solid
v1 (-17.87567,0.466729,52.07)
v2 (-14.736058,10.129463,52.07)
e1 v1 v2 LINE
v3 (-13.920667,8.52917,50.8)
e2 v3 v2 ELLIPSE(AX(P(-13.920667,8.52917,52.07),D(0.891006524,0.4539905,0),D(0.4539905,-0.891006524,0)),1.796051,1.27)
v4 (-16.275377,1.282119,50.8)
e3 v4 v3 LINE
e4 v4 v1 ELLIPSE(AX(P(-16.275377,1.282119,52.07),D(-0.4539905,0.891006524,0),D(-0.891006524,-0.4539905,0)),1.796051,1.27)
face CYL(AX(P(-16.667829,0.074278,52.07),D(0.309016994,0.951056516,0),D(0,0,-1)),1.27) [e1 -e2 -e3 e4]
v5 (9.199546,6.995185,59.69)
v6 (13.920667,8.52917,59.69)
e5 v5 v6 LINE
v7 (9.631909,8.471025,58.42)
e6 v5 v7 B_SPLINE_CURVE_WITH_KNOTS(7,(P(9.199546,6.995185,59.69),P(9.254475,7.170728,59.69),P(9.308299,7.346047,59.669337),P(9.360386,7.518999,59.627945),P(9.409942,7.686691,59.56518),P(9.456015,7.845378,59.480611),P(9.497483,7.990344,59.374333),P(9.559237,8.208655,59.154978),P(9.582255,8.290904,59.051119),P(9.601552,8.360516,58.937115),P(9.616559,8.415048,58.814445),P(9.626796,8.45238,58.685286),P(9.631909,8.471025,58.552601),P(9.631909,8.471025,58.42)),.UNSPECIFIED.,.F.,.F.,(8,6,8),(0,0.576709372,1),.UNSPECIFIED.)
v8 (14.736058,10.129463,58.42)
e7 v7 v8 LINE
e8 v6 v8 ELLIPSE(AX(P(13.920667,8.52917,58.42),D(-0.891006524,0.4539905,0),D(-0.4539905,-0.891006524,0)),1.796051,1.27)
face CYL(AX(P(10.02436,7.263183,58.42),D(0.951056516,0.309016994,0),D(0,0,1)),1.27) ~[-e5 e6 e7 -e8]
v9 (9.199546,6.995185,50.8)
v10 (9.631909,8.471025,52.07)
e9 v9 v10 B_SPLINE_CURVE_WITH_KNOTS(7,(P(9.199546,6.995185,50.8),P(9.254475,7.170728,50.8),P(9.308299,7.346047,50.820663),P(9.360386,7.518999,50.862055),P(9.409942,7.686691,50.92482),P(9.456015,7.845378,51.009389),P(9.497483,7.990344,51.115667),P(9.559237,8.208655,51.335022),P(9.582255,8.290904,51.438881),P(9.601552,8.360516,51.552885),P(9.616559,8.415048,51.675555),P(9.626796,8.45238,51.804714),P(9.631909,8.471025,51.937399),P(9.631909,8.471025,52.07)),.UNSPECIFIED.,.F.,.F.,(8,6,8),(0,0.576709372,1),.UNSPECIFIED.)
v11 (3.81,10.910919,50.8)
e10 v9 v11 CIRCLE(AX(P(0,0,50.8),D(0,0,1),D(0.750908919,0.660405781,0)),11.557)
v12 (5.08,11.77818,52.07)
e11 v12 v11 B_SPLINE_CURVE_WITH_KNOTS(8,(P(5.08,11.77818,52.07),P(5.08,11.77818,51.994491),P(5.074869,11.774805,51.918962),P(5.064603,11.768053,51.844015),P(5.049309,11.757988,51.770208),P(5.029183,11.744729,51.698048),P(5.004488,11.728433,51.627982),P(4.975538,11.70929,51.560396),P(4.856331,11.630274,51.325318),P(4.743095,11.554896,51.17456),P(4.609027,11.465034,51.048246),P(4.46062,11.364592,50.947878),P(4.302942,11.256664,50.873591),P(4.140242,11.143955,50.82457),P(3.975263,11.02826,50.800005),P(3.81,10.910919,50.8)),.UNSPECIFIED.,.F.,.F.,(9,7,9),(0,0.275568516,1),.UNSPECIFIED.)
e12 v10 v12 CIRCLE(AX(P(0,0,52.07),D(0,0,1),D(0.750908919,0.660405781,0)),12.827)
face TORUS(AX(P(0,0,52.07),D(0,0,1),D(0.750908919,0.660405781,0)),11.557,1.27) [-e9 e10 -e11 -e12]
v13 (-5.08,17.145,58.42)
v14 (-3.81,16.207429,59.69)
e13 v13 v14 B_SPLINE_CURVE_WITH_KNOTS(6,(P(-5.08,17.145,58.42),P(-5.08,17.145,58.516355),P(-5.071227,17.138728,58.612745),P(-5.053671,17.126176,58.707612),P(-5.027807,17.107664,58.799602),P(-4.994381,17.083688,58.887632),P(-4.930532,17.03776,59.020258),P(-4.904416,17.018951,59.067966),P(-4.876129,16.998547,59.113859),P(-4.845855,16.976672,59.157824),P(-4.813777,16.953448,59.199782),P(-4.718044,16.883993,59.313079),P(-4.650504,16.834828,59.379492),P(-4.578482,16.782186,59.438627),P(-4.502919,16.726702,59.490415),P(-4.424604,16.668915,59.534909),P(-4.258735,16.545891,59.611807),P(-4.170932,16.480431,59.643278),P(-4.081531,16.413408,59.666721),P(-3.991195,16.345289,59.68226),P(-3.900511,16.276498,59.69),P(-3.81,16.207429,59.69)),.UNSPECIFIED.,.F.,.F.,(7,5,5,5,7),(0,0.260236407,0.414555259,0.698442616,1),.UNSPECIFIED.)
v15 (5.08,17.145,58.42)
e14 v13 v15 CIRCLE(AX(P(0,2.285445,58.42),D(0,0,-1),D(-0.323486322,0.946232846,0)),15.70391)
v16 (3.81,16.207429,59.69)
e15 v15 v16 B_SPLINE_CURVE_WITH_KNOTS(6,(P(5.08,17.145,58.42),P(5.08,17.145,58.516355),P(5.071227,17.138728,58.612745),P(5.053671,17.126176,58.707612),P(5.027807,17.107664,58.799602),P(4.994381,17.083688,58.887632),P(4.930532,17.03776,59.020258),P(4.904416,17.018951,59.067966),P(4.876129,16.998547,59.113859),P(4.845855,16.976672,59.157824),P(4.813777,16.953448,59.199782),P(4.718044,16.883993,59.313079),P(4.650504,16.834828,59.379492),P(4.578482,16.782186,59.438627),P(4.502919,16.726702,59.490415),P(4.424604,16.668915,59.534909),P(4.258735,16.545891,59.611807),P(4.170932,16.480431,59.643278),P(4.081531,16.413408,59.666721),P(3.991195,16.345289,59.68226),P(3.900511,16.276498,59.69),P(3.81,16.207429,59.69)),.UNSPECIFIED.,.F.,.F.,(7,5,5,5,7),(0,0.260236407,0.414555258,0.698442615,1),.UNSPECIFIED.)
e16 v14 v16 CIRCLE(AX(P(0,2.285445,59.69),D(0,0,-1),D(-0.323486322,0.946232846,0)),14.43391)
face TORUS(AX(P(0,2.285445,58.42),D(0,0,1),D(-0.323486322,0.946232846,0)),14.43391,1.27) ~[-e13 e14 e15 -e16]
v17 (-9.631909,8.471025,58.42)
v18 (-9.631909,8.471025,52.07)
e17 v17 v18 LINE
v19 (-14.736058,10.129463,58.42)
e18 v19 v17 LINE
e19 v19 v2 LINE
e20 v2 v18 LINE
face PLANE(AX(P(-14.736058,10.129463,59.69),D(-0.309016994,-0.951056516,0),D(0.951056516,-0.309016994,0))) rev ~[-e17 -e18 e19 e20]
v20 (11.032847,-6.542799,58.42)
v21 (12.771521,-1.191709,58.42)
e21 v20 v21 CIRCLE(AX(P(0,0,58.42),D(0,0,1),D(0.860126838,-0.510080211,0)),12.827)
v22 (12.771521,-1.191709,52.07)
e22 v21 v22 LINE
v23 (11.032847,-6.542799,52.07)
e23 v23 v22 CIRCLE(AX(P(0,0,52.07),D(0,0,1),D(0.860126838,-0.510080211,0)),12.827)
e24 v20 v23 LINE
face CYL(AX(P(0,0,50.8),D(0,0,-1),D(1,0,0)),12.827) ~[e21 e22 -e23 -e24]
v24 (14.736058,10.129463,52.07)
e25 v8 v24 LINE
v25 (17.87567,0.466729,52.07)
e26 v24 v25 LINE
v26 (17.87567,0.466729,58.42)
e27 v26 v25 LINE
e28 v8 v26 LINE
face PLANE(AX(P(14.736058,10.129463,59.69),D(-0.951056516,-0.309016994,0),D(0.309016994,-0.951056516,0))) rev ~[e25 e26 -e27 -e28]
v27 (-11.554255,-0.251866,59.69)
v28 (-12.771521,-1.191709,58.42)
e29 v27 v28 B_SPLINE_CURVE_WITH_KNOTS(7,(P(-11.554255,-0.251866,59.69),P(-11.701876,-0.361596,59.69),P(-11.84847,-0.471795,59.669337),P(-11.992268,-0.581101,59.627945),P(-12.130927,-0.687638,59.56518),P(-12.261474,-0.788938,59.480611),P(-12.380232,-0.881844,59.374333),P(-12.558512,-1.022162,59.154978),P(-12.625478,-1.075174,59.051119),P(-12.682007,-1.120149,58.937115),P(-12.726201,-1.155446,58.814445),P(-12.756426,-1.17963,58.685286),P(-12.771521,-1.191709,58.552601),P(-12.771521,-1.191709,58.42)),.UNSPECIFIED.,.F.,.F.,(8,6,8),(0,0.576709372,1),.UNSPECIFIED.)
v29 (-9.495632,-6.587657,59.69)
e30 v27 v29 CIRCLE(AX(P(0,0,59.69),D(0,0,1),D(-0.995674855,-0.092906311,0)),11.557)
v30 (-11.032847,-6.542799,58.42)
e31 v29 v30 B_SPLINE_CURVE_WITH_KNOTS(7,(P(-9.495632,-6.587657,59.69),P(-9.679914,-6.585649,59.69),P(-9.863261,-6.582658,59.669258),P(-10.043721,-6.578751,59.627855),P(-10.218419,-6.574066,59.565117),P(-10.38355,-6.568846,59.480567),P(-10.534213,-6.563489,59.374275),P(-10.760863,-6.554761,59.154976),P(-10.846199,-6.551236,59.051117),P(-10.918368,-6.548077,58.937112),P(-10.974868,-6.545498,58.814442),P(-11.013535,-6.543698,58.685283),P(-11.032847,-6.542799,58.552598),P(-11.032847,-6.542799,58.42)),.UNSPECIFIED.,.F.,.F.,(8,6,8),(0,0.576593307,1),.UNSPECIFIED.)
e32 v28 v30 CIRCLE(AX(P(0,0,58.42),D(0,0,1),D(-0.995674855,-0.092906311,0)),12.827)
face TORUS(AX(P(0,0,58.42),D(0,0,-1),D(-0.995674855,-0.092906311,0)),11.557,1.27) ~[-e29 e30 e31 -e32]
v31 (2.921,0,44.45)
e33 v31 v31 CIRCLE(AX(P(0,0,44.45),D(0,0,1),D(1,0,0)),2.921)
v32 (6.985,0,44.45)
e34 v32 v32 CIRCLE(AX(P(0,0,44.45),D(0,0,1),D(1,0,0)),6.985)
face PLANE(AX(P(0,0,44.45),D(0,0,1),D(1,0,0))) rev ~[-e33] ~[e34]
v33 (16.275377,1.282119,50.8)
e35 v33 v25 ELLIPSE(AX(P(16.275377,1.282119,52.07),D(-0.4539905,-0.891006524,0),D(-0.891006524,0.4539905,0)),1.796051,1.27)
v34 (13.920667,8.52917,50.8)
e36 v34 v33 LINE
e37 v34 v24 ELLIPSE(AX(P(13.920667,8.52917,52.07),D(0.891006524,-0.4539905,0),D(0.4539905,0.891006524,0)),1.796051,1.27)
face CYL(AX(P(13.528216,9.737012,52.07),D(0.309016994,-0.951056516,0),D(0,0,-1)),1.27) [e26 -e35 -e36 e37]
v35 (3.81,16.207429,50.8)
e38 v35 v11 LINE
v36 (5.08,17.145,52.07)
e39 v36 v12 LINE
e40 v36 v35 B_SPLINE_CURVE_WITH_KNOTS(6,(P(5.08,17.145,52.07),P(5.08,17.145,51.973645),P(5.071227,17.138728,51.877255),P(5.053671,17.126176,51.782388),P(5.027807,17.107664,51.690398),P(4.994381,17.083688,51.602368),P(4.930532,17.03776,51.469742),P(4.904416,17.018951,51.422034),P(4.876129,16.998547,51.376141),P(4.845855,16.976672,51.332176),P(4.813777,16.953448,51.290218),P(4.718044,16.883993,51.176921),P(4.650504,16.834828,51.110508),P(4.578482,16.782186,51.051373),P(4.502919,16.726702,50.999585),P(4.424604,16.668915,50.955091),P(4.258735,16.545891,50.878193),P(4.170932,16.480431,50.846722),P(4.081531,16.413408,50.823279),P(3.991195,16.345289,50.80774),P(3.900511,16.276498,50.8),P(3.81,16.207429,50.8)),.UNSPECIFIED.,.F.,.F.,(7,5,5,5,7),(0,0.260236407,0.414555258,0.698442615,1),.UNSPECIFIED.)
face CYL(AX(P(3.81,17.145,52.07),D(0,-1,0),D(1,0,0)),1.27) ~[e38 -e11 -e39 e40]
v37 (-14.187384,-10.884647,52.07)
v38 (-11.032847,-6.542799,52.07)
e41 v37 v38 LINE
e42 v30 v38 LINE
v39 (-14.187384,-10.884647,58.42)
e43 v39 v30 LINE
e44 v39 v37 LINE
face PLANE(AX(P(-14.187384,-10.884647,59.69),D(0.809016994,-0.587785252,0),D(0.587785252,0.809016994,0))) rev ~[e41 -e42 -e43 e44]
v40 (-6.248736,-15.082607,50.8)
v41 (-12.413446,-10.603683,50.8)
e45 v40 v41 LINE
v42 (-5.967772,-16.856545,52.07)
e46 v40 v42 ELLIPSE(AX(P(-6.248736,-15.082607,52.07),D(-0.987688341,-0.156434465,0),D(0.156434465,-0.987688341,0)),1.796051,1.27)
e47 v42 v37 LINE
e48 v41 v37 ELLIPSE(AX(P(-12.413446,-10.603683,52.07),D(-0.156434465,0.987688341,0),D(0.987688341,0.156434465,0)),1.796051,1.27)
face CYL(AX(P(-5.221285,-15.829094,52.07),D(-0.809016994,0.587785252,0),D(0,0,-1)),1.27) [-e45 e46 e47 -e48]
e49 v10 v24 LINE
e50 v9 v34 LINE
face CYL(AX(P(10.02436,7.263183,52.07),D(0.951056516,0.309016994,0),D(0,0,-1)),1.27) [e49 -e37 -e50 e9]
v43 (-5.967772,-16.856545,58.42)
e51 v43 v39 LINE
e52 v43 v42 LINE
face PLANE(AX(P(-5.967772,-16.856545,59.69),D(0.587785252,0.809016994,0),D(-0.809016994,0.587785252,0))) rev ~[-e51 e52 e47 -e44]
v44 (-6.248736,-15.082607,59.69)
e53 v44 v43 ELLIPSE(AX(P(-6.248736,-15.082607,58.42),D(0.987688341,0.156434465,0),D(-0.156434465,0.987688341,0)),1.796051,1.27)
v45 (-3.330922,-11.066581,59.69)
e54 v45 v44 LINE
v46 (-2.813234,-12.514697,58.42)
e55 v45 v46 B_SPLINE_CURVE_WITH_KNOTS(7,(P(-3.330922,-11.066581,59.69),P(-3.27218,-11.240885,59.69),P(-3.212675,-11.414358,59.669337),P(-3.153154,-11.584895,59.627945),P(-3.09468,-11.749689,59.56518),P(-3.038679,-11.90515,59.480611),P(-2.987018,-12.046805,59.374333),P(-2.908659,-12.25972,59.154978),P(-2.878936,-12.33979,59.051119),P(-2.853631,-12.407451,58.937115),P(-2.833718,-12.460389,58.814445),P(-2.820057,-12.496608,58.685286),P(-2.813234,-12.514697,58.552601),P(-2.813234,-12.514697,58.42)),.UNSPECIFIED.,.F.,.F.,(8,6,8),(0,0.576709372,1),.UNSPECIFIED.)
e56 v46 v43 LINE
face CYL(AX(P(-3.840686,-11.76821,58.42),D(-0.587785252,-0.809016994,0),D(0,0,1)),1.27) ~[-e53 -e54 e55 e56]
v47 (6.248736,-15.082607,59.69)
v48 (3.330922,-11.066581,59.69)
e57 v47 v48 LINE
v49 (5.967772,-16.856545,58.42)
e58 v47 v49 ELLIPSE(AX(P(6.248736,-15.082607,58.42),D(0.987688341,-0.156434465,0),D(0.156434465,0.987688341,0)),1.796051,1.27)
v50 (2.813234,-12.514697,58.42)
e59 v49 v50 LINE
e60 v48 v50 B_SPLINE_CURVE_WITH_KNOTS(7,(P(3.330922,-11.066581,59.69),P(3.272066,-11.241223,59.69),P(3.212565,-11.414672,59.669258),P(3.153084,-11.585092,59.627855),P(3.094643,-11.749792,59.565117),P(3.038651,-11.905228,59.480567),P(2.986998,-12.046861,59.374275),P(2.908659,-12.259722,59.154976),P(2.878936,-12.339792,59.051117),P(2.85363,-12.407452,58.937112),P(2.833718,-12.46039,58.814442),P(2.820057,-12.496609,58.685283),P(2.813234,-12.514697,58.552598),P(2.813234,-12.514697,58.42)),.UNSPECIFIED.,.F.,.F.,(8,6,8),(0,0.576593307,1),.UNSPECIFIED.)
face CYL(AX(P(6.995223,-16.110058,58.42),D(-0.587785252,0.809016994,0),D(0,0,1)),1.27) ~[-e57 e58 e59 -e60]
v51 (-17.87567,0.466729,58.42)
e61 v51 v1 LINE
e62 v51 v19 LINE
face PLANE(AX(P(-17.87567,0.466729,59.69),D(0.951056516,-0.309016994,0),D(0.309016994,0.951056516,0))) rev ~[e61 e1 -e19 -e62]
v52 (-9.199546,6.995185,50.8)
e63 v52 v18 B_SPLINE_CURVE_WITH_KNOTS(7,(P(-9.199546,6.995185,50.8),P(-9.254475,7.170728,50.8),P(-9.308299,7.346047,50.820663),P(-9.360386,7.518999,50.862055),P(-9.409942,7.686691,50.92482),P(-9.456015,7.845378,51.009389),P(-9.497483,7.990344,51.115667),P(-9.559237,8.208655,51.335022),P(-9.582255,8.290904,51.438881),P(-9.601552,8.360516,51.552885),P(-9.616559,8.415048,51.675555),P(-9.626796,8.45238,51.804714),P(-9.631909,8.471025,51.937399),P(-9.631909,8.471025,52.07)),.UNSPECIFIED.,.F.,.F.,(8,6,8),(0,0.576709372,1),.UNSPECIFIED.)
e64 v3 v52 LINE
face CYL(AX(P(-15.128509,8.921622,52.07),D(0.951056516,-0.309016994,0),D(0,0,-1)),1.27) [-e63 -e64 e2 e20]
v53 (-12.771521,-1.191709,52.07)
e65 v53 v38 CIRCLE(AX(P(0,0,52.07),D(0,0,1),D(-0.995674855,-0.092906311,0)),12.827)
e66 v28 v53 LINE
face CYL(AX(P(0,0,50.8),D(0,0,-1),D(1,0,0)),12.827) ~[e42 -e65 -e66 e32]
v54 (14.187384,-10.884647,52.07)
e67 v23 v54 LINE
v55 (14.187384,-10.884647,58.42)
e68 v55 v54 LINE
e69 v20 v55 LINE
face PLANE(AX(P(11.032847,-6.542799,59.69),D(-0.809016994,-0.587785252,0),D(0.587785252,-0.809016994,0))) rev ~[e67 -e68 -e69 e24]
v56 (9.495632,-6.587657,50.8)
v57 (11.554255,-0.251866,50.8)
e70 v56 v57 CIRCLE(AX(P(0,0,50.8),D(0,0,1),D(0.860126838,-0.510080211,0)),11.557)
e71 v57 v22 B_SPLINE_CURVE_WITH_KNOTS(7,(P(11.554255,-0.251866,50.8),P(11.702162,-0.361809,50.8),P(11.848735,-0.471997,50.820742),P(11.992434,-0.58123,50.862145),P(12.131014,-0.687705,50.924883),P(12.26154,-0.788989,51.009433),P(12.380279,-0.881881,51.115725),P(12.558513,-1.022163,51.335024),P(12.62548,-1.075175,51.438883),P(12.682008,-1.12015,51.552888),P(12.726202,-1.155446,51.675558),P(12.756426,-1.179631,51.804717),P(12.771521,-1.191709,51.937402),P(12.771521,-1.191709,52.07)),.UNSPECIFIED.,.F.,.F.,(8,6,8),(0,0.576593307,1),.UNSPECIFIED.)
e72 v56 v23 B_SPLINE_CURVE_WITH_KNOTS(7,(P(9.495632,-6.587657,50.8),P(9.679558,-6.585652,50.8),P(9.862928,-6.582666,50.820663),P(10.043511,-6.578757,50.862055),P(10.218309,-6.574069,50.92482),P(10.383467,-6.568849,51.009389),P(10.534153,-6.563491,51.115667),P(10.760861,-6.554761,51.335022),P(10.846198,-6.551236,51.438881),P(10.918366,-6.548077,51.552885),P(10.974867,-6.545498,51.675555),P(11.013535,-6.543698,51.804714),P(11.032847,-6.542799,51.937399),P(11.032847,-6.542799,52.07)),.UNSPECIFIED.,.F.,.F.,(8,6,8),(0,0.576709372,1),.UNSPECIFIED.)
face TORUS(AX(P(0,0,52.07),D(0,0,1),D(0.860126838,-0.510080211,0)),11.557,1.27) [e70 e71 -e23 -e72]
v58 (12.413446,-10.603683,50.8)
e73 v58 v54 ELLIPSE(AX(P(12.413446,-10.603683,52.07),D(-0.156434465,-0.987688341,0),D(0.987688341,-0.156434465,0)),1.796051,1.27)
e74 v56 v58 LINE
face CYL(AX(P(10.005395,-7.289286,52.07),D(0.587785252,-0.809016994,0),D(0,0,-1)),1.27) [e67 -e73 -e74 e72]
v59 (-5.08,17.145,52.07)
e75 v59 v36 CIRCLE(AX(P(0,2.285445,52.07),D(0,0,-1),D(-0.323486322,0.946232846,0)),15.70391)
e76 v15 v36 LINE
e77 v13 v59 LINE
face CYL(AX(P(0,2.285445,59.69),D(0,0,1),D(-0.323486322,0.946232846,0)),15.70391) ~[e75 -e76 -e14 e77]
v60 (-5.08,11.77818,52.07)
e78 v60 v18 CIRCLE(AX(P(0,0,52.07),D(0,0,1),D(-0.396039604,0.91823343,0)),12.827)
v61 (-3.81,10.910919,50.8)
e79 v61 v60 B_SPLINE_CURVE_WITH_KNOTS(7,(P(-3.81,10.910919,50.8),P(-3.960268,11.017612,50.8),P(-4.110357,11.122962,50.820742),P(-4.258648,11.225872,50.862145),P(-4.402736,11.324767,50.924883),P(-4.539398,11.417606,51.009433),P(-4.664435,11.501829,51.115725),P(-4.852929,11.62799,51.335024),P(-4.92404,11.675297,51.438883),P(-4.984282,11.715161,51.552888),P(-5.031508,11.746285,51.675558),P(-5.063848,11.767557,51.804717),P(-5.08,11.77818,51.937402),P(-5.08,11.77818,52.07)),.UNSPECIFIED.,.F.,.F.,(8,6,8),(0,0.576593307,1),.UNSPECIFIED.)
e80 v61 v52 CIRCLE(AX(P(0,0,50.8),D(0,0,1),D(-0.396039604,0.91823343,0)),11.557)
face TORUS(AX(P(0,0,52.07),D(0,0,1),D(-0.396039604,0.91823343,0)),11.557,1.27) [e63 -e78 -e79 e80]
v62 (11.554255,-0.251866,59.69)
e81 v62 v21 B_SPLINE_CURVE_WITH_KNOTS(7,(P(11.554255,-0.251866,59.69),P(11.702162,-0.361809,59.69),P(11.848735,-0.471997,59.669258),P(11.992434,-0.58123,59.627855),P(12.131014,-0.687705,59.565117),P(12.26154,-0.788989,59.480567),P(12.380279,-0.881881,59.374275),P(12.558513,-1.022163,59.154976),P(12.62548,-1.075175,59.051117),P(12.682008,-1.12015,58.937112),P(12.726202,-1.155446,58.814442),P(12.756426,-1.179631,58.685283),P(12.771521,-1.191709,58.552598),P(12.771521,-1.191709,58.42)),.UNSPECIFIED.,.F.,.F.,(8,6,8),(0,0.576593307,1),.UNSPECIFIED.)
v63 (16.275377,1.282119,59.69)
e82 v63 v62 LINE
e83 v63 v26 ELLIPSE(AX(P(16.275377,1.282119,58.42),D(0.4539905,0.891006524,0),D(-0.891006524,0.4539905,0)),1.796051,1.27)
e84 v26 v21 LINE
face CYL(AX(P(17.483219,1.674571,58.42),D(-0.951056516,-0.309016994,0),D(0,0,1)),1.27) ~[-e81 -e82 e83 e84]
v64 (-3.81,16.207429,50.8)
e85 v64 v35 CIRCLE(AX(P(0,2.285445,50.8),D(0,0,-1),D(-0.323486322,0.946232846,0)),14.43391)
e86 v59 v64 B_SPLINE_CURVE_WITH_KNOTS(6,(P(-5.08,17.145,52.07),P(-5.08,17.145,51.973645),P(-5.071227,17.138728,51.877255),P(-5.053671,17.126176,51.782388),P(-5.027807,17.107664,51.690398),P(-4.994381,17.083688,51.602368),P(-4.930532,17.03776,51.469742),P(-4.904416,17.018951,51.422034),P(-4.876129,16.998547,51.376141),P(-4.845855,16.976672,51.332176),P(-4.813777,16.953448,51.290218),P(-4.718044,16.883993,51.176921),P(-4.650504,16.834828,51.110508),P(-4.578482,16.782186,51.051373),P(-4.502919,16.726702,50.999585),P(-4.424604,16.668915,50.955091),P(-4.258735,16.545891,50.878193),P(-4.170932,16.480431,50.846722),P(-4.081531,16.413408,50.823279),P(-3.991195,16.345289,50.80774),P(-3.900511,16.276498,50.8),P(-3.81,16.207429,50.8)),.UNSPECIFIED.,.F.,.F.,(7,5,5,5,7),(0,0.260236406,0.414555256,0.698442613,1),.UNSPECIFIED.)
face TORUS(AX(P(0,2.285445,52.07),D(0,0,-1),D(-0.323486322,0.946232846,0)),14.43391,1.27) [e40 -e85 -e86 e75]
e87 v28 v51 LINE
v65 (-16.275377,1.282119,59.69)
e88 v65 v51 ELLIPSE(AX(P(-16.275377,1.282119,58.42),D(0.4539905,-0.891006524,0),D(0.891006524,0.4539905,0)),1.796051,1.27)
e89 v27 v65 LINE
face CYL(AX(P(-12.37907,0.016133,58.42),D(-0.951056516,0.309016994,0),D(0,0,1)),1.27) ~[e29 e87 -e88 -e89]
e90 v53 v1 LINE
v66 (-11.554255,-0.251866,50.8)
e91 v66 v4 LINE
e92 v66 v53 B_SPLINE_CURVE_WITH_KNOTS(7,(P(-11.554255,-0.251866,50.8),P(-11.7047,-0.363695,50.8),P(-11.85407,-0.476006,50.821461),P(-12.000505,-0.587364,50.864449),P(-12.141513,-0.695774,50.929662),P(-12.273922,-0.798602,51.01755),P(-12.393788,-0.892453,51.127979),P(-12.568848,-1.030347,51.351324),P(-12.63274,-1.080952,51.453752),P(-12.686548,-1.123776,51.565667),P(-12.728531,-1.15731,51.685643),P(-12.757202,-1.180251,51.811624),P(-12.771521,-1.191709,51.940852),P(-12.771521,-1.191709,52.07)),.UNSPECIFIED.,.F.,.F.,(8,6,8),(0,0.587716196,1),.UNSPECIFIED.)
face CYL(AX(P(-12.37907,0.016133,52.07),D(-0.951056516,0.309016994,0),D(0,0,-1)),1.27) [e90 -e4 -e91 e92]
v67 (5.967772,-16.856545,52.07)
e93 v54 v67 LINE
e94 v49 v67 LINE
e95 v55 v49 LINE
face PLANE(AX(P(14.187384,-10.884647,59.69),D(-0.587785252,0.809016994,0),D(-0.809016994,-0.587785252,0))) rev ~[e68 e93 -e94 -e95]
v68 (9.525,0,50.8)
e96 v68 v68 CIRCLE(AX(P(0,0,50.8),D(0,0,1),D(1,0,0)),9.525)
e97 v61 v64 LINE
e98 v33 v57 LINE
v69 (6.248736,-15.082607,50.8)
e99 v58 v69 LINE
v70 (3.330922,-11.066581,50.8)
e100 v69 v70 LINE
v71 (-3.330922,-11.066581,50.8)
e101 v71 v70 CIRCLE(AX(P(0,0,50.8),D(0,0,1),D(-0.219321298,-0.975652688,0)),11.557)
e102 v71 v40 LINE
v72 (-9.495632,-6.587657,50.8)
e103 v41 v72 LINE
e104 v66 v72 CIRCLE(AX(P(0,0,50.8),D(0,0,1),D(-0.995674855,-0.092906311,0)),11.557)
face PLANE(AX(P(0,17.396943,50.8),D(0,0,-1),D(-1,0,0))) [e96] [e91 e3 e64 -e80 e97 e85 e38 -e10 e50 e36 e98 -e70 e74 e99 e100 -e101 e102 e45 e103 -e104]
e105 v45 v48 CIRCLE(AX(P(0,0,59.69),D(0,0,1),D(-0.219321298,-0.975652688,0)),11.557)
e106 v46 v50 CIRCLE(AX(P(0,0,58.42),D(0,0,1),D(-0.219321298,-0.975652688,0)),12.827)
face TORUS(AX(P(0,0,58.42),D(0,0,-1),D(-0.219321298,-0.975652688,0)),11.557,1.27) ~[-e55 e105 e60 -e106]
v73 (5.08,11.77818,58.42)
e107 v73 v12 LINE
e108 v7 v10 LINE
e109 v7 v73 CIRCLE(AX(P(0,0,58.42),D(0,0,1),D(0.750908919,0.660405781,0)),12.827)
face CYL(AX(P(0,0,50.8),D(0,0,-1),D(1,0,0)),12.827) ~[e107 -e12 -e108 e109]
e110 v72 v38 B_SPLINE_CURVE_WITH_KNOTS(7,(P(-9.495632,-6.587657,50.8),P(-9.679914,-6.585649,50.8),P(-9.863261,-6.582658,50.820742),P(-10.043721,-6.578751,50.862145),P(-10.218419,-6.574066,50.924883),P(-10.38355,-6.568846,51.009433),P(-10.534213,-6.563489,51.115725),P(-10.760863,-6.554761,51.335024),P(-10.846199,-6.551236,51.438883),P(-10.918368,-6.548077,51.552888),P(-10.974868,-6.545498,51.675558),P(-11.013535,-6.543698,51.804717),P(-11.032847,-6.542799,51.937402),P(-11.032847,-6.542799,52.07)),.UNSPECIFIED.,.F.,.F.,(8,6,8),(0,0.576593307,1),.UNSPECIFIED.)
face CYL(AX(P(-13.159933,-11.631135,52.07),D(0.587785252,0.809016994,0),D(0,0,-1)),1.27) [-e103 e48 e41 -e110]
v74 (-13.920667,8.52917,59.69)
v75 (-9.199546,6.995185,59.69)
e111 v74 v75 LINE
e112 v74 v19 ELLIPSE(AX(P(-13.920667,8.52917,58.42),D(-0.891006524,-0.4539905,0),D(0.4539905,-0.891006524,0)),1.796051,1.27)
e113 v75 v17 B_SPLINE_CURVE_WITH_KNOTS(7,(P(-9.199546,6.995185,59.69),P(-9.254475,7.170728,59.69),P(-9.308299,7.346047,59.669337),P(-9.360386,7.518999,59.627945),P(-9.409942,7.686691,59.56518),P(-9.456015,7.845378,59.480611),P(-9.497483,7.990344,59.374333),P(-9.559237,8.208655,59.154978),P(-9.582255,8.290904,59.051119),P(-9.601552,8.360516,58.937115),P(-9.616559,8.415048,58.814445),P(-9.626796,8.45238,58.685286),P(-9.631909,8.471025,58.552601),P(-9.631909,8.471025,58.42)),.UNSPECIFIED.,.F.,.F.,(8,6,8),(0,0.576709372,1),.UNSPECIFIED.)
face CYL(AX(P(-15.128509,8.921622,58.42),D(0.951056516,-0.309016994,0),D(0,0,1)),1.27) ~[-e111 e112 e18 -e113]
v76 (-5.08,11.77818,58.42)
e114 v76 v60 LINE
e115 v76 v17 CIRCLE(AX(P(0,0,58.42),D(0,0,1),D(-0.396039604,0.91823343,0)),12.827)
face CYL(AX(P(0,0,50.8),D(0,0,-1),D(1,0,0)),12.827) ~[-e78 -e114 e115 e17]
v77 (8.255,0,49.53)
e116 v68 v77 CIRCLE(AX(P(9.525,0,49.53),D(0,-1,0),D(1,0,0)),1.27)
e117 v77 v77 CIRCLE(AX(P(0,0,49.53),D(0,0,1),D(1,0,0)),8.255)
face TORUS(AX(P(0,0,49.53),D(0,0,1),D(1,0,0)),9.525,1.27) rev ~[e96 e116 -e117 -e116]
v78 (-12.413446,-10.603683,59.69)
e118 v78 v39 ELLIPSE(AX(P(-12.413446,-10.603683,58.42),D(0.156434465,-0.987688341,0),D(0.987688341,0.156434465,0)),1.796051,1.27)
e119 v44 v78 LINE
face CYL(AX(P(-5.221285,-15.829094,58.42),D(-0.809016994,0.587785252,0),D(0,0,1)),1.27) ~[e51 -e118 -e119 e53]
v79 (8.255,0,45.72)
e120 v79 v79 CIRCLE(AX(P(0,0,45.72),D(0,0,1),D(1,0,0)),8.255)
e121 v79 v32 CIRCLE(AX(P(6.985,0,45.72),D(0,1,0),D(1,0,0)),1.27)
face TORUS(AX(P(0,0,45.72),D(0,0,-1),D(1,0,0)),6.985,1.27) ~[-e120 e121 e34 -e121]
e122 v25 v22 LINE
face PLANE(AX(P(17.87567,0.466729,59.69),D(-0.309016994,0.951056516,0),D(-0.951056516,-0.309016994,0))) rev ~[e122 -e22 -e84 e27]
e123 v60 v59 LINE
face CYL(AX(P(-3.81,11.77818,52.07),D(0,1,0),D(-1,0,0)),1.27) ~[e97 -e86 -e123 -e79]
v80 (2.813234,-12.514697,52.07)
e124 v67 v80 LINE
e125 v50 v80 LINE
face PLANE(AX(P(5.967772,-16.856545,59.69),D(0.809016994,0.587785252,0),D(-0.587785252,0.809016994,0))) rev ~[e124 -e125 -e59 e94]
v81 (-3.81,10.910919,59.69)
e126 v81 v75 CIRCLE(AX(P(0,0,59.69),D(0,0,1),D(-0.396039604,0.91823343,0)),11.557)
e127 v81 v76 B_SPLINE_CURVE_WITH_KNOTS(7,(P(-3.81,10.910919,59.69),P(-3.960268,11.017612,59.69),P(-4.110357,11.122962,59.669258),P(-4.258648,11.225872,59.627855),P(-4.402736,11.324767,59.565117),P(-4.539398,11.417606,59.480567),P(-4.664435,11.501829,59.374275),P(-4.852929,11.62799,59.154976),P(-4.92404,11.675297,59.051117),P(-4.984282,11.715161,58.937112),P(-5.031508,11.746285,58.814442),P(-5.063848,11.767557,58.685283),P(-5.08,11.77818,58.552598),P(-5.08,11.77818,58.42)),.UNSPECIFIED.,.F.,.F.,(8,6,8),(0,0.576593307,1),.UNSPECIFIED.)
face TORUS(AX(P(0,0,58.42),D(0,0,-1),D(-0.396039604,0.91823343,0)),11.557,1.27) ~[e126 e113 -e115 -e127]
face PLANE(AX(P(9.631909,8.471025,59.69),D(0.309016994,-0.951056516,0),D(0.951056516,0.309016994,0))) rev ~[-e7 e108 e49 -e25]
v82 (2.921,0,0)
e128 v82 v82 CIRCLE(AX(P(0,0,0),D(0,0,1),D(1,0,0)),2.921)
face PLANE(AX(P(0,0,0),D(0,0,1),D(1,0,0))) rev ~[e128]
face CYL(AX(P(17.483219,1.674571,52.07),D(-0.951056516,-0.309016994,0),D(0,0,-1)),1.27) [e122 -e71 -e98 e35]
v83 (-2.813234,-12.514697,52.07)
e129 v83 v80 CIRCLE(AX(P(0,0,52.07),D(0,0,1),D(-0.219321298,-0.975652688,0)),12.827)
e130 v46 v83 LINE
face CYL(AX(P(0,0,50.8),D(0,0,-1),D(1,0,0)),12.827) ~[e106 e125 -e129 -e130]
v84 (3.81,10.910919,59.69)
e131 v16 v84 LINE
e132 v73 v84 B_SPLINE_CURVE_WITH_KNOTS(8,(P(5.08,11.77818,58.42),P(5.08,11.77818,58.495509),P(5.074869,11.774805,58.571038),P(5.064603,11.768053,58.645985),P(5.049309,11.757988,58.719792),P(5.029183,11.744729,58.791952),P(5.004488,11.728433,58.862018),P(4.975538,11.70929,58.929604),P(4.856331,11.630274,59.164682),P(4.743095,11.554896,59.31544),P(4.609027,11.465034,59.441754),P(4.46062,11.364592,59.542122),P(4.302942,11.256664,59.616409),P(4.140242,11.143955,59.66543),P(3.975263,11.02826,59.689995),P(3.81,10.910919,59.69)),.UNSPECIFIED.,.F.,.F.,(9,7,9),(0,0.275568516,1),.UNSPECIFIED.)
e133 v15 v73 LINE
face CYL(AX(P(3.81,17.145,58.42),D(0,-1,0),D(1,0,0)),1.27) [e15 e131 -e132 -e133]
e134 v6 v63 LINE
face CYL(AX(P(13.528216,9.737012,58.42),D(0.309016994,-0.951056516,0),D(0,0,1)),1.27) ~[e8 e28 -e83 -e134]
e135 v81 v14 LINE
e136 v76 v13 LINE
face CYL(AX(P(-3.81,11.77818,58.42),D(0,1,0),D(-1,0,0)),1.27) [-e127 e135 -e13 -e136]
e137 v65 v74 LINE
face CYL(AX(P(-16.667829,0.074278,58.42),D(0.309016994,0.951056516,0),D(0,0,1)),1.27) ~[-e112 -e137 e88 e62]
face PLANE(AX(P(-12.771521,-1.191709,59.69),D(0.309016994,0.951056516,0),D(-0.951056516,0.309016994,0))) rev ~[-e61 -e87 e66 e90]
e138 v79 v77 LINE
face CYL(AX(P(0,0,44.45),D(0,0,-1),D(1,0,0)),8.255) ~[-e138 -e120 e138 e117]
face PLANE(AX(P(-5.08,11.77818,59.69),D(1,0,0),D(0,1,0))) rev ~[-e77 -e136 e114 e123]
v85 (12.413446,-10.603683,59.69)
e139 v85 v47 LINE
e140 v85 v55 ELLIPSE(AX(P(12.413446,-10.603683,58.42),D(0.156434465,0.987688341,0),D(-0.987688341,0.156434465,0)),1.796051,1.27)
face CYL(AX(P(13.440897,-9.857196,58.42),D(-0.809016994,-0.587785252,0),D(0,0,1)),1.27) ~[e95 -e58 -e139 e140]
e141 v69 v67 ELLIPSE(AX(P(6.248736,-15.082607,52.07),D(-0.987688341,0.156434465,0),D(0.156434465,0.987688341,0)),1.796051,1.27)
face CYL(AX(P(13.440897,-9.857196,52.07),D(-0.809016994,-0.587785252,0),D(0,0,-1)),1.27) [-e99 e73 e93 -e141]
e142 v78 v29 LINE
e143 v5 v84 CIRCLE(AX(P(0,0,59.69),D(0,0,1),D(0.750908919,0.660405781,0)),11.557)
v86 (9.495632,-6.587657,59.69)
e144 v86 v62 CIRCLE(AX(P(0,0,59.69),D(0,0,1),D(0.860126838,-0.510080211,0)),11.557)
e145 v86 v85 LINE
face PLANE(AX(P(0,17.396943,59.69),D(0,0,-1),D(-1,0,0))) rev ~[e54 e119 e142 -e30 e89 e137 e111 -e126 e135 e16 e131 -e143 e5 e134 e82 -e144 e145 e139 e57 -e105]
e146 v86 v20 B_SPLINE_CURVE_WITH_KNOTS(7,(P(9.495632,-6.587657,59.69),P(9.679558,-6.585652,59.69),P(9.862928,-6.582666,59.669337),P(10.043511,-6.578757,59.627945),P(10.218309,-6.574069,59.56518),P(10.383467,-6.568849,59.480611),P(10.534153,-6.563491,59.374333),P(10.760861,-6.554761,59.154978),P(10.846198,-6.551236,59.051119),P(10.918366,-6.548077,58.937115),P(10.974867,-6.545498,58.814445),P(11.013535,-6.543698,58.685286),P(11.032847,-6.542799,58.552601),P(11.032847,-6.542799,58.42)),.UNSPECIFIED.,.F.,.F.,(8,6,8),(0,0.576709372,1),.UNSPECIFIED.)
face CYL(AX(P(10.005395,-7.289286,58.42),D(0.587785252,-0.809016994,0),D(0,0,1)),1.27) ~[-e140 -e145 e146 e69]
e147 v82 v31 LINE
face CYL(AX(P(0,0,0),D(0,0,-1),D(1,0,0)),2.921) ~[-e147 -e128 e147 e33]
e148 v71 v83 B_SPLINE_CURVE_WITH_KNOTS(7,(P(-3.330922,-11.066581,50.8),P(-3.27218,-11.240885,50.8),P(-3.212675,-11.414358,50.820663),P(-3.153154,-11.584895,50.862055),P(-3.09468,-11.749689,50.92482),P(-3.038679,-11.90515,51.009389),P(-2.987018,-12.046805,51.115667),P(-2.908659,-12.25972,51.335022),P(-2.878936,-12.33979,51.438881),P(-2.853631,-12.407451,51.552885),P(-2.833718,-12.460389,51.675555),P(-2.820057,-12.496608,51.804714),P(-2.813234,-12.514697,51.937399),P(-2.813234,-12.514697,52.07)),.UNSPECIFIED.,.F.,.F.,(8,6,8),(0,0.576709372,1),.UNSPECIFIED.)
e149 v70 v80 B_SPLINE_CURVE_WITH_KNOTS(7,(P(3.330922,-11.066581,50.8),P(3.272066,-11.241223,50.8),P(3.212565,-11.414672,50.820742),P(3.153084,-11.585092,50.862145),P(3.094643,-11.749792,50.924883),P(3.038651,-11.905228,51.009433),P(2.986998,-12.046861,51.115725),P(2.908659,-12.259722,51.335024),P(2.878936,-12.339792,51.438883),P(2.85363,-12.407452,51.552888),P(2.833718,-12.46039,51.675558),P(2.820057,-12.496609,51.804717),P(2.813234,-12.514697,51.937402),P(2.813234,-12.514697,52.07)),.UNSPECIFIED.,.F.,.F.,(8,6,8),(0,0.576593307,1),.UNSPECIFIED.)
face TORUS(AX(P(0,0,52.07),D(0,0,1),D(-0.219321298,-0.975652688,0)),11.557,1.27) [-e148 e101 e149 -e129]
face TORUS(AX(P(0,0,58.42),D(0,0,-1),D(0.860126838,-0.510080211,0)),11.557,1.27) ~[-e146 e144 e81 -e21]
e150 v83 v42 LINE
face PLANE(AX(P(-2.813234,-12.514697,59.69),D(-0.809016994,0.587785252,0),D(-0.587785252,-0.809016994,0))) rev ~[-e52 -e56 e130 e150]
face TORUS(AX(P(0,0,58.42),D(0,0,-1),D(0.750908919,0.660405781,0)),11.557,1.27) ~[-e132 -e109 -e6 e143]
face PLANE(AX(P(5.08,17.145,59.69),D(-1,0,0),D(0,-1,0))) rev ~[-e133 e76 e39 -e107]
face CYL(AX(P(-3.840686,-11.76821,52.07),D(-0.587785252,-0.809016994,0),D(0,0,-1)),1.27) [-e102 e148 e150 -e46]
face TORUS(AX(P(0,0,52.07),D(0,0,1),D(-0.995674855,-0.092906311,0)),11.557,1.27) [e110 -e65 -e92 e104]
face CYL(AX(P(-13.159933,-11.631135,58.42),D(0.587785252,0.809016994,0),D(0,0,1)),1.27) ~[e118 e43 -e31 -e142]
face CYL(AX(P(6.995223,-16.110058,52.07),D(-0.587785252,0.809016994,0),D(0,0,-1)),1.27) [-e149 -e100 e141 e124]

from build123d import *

# Parameters (mm, degrees)
SKETCH1_R      = 2.921
EXTRUDE1_DEPTH = 44.45
SKETCH2_R      = 8.255
EXTRUDE2_DEPTH = 6.35
SKETCH3_R      = 12.827
EXTRUDE3_DEPTH = 8.89
EXTRUDE6_DEPTH = 8.89
EXTRUDE7_DEPTH = 8.89
FILLET1_R      = 1.27


with BuildPart() as part:
    # Sketch1 → Extrude1 (new body)
    with BuildSketch(Plane.XY):
        Circle(SKETCH1_R)
    extrude(amount=EXTRUDE1_DEPTH)

    # Sketch2 → Extrude2 (add)
    with BuildSketch(Plane.XY.offset(44.45)):
        Circle(SKETCH2_R)
    extrude(amount=EXTRUDE2_DEPTH)

    # Sketch3 → Extrude3 (add)
    with BuildSketch(Plane.XY.offset(50.8)):
        Circle(SKETCH3_R)
    extrude(amount=EXTRUDE3_DEPTH)

    # Sketch4 → Extrude6 (add)
    with BuildSketch(Plane.XY.offset(59.69)):
        with BuildLine():
            Line((9.631908705, 8.47102495), (14.73605764, 10.129463471))
            Line((14.73605764, 10.129463471), (17.875670303, 0.466729266))
            Line((17.875670303, 0.466729266), (12.771521368, -1.191709256))
            ThreePointArc((12.771521368, -1.191709256), (12.199201935, 3.963760987), (9.631908705, 8.47102495))
        make_face()
        with BuildLine():
            Line((-5.08, 11.778180207), (-5.08, 17.145))
            Line((-5.08, 17.145), (5.08, 17.145))
            Line((5.08, 17.145), (5.08, 11.778180207))
            ThreePointArc((5.08, 11.778180207), (0, 12.827), (-5.08, 11.778180207))
        make_face()
        with BuildLine():
            Line((11.032846956, -6.542798869), (14.187384482, -10.884647287))
            Line((14.187384482, -10.884647287), (5.967771819, -16.85654545))
            Line((5.967771819, -16.85654545), (2.813234293, -12.514697032))
            ThreePointArc((2.813234293, -12.514697032), (7.539521431, -10.377260987), (11.032846956, -6.542798869))
        make_face()
        with BuildLine():
            Line((-2.813234293, -12.514697032), (-5.967771819, -16.85654545))
            Line((-5.967771819, -16.85654545), (-14.187384482, -10.884647287))
            Line((-14.187384482, -10.884647287), (-11.032846956, -6.542798869))
            ThreePointArc((-11.032846956, -6.542798869), (-7.539521431, -10.377260987), (-2.813234293, -12.514697032))
        make_face()
        with BuildLine():
            Line((-12.771521368, -1.191709256), (-17.875670303, 0.466729266))
            Line((-17.875670303, 0.466729266), (-14.73605764, 10.129463471))
            Line((-14.73605764, 10.129463471), (-9.631908705, 8.47102495))
            ThreePointArc((-9.631908705, 8.47102495), (-12.199201935, 3.963760987), (-12.771521368, -1.191709256))
        make_face()
    extrude(amount=-EXTRUDE6_DEPTH)

    # Sketch7 → Extrude7 (add)
    with BuildSketch(Plane.XY.offset(59.69)):
        with BuildLine():
            Line((5.08, 17.145), (-5.08, 17.145))
            ThreePointArc((-5.08, 17.145), (0, 17.989354528), (5.08, 17.145))
        make_face()
    extrude(amount=-EXTRUDE7_DEPTH)

    # Fillet1
    fillet1_edges = [part.edges().sort_by_distance(p)[0] for p in [
        (-7.539521431, 10.377260987, 59.69),
        (-7.539521431, 10.377260987, 50.8),
        (5.08, 14.461590104, 59.69),
        (-5.08, 14.461590104, 59.69),
        (5.08, 14.461590104, 50.8),
        (-5.08, 14.461590104, 50.8),
        (7.539521431, 10.377260987, 59.69),
        (7.539521431, 10.377260987, 50.8),
        (15.323595836, -0.362489995, 59.69),
        (16.305863972, 5.298096369, 59.69),
        (12.183983173, 9.300244211, 59.69),
        (15.323595836, -0.362489995, 50.8),
        (12.183983173, 9.300244211, 50.8),
        (16.305863972, 5.298096369, 50.8),
        (12.199201935, -3.963760987, 59.69),
        (12.199201935, -3.963760987, 50.8),
        (4.390503056, -14.685621241, 59.69),
        (10.077578151, -13.870596369, 59.69),
        (12.610115719, -8.713723078, 59.69),
        (4.390503056, -14.685621241, 50.8),
        (12.610115719, -8.713723078, 50.8),
        (10.077578151, -13.870596369, 50.8),
        (0, -12.827, 59.69),
        (0, -12.827, 50.8),
        (-12.610115719, -8.713723078, 59.69),
        (-10.077578151, -13.870596369, 59.69),
        (-4.390503056, -14.685621241, 59.69),
        (-12.610115719, -8.713723078, 50.8),
        (-4.390503056, -14.685621241, 50.8),
        (-10.077578151, -13.870596369, 50.8),
        (-8.255, 0, 44.45),
        (-12.199201935, -3.963760987, 59.69),
        (-8.255, 0, 50.8),
        (-12.199201935, -3.963760987, 50.8),
        (-12.183983173, 9.300244211, 59.69),
        (-16.305863972, 5.298096369, 59.69),
        (-15.323595836, -0.362489995, 59.69),
        (-12.183983173, 9.300244211, 50.8),
        (-15.323595836, -0.362489995, 50.8),
        (-16.305863972, 5.298096369, 50.8),
        (0, 17.989354528, 59.69),
        (0, 17.989354528, 50.8),
    ]]
    fillet(fillet1_edges, radius=FILLET1_R)


solid = part.part
